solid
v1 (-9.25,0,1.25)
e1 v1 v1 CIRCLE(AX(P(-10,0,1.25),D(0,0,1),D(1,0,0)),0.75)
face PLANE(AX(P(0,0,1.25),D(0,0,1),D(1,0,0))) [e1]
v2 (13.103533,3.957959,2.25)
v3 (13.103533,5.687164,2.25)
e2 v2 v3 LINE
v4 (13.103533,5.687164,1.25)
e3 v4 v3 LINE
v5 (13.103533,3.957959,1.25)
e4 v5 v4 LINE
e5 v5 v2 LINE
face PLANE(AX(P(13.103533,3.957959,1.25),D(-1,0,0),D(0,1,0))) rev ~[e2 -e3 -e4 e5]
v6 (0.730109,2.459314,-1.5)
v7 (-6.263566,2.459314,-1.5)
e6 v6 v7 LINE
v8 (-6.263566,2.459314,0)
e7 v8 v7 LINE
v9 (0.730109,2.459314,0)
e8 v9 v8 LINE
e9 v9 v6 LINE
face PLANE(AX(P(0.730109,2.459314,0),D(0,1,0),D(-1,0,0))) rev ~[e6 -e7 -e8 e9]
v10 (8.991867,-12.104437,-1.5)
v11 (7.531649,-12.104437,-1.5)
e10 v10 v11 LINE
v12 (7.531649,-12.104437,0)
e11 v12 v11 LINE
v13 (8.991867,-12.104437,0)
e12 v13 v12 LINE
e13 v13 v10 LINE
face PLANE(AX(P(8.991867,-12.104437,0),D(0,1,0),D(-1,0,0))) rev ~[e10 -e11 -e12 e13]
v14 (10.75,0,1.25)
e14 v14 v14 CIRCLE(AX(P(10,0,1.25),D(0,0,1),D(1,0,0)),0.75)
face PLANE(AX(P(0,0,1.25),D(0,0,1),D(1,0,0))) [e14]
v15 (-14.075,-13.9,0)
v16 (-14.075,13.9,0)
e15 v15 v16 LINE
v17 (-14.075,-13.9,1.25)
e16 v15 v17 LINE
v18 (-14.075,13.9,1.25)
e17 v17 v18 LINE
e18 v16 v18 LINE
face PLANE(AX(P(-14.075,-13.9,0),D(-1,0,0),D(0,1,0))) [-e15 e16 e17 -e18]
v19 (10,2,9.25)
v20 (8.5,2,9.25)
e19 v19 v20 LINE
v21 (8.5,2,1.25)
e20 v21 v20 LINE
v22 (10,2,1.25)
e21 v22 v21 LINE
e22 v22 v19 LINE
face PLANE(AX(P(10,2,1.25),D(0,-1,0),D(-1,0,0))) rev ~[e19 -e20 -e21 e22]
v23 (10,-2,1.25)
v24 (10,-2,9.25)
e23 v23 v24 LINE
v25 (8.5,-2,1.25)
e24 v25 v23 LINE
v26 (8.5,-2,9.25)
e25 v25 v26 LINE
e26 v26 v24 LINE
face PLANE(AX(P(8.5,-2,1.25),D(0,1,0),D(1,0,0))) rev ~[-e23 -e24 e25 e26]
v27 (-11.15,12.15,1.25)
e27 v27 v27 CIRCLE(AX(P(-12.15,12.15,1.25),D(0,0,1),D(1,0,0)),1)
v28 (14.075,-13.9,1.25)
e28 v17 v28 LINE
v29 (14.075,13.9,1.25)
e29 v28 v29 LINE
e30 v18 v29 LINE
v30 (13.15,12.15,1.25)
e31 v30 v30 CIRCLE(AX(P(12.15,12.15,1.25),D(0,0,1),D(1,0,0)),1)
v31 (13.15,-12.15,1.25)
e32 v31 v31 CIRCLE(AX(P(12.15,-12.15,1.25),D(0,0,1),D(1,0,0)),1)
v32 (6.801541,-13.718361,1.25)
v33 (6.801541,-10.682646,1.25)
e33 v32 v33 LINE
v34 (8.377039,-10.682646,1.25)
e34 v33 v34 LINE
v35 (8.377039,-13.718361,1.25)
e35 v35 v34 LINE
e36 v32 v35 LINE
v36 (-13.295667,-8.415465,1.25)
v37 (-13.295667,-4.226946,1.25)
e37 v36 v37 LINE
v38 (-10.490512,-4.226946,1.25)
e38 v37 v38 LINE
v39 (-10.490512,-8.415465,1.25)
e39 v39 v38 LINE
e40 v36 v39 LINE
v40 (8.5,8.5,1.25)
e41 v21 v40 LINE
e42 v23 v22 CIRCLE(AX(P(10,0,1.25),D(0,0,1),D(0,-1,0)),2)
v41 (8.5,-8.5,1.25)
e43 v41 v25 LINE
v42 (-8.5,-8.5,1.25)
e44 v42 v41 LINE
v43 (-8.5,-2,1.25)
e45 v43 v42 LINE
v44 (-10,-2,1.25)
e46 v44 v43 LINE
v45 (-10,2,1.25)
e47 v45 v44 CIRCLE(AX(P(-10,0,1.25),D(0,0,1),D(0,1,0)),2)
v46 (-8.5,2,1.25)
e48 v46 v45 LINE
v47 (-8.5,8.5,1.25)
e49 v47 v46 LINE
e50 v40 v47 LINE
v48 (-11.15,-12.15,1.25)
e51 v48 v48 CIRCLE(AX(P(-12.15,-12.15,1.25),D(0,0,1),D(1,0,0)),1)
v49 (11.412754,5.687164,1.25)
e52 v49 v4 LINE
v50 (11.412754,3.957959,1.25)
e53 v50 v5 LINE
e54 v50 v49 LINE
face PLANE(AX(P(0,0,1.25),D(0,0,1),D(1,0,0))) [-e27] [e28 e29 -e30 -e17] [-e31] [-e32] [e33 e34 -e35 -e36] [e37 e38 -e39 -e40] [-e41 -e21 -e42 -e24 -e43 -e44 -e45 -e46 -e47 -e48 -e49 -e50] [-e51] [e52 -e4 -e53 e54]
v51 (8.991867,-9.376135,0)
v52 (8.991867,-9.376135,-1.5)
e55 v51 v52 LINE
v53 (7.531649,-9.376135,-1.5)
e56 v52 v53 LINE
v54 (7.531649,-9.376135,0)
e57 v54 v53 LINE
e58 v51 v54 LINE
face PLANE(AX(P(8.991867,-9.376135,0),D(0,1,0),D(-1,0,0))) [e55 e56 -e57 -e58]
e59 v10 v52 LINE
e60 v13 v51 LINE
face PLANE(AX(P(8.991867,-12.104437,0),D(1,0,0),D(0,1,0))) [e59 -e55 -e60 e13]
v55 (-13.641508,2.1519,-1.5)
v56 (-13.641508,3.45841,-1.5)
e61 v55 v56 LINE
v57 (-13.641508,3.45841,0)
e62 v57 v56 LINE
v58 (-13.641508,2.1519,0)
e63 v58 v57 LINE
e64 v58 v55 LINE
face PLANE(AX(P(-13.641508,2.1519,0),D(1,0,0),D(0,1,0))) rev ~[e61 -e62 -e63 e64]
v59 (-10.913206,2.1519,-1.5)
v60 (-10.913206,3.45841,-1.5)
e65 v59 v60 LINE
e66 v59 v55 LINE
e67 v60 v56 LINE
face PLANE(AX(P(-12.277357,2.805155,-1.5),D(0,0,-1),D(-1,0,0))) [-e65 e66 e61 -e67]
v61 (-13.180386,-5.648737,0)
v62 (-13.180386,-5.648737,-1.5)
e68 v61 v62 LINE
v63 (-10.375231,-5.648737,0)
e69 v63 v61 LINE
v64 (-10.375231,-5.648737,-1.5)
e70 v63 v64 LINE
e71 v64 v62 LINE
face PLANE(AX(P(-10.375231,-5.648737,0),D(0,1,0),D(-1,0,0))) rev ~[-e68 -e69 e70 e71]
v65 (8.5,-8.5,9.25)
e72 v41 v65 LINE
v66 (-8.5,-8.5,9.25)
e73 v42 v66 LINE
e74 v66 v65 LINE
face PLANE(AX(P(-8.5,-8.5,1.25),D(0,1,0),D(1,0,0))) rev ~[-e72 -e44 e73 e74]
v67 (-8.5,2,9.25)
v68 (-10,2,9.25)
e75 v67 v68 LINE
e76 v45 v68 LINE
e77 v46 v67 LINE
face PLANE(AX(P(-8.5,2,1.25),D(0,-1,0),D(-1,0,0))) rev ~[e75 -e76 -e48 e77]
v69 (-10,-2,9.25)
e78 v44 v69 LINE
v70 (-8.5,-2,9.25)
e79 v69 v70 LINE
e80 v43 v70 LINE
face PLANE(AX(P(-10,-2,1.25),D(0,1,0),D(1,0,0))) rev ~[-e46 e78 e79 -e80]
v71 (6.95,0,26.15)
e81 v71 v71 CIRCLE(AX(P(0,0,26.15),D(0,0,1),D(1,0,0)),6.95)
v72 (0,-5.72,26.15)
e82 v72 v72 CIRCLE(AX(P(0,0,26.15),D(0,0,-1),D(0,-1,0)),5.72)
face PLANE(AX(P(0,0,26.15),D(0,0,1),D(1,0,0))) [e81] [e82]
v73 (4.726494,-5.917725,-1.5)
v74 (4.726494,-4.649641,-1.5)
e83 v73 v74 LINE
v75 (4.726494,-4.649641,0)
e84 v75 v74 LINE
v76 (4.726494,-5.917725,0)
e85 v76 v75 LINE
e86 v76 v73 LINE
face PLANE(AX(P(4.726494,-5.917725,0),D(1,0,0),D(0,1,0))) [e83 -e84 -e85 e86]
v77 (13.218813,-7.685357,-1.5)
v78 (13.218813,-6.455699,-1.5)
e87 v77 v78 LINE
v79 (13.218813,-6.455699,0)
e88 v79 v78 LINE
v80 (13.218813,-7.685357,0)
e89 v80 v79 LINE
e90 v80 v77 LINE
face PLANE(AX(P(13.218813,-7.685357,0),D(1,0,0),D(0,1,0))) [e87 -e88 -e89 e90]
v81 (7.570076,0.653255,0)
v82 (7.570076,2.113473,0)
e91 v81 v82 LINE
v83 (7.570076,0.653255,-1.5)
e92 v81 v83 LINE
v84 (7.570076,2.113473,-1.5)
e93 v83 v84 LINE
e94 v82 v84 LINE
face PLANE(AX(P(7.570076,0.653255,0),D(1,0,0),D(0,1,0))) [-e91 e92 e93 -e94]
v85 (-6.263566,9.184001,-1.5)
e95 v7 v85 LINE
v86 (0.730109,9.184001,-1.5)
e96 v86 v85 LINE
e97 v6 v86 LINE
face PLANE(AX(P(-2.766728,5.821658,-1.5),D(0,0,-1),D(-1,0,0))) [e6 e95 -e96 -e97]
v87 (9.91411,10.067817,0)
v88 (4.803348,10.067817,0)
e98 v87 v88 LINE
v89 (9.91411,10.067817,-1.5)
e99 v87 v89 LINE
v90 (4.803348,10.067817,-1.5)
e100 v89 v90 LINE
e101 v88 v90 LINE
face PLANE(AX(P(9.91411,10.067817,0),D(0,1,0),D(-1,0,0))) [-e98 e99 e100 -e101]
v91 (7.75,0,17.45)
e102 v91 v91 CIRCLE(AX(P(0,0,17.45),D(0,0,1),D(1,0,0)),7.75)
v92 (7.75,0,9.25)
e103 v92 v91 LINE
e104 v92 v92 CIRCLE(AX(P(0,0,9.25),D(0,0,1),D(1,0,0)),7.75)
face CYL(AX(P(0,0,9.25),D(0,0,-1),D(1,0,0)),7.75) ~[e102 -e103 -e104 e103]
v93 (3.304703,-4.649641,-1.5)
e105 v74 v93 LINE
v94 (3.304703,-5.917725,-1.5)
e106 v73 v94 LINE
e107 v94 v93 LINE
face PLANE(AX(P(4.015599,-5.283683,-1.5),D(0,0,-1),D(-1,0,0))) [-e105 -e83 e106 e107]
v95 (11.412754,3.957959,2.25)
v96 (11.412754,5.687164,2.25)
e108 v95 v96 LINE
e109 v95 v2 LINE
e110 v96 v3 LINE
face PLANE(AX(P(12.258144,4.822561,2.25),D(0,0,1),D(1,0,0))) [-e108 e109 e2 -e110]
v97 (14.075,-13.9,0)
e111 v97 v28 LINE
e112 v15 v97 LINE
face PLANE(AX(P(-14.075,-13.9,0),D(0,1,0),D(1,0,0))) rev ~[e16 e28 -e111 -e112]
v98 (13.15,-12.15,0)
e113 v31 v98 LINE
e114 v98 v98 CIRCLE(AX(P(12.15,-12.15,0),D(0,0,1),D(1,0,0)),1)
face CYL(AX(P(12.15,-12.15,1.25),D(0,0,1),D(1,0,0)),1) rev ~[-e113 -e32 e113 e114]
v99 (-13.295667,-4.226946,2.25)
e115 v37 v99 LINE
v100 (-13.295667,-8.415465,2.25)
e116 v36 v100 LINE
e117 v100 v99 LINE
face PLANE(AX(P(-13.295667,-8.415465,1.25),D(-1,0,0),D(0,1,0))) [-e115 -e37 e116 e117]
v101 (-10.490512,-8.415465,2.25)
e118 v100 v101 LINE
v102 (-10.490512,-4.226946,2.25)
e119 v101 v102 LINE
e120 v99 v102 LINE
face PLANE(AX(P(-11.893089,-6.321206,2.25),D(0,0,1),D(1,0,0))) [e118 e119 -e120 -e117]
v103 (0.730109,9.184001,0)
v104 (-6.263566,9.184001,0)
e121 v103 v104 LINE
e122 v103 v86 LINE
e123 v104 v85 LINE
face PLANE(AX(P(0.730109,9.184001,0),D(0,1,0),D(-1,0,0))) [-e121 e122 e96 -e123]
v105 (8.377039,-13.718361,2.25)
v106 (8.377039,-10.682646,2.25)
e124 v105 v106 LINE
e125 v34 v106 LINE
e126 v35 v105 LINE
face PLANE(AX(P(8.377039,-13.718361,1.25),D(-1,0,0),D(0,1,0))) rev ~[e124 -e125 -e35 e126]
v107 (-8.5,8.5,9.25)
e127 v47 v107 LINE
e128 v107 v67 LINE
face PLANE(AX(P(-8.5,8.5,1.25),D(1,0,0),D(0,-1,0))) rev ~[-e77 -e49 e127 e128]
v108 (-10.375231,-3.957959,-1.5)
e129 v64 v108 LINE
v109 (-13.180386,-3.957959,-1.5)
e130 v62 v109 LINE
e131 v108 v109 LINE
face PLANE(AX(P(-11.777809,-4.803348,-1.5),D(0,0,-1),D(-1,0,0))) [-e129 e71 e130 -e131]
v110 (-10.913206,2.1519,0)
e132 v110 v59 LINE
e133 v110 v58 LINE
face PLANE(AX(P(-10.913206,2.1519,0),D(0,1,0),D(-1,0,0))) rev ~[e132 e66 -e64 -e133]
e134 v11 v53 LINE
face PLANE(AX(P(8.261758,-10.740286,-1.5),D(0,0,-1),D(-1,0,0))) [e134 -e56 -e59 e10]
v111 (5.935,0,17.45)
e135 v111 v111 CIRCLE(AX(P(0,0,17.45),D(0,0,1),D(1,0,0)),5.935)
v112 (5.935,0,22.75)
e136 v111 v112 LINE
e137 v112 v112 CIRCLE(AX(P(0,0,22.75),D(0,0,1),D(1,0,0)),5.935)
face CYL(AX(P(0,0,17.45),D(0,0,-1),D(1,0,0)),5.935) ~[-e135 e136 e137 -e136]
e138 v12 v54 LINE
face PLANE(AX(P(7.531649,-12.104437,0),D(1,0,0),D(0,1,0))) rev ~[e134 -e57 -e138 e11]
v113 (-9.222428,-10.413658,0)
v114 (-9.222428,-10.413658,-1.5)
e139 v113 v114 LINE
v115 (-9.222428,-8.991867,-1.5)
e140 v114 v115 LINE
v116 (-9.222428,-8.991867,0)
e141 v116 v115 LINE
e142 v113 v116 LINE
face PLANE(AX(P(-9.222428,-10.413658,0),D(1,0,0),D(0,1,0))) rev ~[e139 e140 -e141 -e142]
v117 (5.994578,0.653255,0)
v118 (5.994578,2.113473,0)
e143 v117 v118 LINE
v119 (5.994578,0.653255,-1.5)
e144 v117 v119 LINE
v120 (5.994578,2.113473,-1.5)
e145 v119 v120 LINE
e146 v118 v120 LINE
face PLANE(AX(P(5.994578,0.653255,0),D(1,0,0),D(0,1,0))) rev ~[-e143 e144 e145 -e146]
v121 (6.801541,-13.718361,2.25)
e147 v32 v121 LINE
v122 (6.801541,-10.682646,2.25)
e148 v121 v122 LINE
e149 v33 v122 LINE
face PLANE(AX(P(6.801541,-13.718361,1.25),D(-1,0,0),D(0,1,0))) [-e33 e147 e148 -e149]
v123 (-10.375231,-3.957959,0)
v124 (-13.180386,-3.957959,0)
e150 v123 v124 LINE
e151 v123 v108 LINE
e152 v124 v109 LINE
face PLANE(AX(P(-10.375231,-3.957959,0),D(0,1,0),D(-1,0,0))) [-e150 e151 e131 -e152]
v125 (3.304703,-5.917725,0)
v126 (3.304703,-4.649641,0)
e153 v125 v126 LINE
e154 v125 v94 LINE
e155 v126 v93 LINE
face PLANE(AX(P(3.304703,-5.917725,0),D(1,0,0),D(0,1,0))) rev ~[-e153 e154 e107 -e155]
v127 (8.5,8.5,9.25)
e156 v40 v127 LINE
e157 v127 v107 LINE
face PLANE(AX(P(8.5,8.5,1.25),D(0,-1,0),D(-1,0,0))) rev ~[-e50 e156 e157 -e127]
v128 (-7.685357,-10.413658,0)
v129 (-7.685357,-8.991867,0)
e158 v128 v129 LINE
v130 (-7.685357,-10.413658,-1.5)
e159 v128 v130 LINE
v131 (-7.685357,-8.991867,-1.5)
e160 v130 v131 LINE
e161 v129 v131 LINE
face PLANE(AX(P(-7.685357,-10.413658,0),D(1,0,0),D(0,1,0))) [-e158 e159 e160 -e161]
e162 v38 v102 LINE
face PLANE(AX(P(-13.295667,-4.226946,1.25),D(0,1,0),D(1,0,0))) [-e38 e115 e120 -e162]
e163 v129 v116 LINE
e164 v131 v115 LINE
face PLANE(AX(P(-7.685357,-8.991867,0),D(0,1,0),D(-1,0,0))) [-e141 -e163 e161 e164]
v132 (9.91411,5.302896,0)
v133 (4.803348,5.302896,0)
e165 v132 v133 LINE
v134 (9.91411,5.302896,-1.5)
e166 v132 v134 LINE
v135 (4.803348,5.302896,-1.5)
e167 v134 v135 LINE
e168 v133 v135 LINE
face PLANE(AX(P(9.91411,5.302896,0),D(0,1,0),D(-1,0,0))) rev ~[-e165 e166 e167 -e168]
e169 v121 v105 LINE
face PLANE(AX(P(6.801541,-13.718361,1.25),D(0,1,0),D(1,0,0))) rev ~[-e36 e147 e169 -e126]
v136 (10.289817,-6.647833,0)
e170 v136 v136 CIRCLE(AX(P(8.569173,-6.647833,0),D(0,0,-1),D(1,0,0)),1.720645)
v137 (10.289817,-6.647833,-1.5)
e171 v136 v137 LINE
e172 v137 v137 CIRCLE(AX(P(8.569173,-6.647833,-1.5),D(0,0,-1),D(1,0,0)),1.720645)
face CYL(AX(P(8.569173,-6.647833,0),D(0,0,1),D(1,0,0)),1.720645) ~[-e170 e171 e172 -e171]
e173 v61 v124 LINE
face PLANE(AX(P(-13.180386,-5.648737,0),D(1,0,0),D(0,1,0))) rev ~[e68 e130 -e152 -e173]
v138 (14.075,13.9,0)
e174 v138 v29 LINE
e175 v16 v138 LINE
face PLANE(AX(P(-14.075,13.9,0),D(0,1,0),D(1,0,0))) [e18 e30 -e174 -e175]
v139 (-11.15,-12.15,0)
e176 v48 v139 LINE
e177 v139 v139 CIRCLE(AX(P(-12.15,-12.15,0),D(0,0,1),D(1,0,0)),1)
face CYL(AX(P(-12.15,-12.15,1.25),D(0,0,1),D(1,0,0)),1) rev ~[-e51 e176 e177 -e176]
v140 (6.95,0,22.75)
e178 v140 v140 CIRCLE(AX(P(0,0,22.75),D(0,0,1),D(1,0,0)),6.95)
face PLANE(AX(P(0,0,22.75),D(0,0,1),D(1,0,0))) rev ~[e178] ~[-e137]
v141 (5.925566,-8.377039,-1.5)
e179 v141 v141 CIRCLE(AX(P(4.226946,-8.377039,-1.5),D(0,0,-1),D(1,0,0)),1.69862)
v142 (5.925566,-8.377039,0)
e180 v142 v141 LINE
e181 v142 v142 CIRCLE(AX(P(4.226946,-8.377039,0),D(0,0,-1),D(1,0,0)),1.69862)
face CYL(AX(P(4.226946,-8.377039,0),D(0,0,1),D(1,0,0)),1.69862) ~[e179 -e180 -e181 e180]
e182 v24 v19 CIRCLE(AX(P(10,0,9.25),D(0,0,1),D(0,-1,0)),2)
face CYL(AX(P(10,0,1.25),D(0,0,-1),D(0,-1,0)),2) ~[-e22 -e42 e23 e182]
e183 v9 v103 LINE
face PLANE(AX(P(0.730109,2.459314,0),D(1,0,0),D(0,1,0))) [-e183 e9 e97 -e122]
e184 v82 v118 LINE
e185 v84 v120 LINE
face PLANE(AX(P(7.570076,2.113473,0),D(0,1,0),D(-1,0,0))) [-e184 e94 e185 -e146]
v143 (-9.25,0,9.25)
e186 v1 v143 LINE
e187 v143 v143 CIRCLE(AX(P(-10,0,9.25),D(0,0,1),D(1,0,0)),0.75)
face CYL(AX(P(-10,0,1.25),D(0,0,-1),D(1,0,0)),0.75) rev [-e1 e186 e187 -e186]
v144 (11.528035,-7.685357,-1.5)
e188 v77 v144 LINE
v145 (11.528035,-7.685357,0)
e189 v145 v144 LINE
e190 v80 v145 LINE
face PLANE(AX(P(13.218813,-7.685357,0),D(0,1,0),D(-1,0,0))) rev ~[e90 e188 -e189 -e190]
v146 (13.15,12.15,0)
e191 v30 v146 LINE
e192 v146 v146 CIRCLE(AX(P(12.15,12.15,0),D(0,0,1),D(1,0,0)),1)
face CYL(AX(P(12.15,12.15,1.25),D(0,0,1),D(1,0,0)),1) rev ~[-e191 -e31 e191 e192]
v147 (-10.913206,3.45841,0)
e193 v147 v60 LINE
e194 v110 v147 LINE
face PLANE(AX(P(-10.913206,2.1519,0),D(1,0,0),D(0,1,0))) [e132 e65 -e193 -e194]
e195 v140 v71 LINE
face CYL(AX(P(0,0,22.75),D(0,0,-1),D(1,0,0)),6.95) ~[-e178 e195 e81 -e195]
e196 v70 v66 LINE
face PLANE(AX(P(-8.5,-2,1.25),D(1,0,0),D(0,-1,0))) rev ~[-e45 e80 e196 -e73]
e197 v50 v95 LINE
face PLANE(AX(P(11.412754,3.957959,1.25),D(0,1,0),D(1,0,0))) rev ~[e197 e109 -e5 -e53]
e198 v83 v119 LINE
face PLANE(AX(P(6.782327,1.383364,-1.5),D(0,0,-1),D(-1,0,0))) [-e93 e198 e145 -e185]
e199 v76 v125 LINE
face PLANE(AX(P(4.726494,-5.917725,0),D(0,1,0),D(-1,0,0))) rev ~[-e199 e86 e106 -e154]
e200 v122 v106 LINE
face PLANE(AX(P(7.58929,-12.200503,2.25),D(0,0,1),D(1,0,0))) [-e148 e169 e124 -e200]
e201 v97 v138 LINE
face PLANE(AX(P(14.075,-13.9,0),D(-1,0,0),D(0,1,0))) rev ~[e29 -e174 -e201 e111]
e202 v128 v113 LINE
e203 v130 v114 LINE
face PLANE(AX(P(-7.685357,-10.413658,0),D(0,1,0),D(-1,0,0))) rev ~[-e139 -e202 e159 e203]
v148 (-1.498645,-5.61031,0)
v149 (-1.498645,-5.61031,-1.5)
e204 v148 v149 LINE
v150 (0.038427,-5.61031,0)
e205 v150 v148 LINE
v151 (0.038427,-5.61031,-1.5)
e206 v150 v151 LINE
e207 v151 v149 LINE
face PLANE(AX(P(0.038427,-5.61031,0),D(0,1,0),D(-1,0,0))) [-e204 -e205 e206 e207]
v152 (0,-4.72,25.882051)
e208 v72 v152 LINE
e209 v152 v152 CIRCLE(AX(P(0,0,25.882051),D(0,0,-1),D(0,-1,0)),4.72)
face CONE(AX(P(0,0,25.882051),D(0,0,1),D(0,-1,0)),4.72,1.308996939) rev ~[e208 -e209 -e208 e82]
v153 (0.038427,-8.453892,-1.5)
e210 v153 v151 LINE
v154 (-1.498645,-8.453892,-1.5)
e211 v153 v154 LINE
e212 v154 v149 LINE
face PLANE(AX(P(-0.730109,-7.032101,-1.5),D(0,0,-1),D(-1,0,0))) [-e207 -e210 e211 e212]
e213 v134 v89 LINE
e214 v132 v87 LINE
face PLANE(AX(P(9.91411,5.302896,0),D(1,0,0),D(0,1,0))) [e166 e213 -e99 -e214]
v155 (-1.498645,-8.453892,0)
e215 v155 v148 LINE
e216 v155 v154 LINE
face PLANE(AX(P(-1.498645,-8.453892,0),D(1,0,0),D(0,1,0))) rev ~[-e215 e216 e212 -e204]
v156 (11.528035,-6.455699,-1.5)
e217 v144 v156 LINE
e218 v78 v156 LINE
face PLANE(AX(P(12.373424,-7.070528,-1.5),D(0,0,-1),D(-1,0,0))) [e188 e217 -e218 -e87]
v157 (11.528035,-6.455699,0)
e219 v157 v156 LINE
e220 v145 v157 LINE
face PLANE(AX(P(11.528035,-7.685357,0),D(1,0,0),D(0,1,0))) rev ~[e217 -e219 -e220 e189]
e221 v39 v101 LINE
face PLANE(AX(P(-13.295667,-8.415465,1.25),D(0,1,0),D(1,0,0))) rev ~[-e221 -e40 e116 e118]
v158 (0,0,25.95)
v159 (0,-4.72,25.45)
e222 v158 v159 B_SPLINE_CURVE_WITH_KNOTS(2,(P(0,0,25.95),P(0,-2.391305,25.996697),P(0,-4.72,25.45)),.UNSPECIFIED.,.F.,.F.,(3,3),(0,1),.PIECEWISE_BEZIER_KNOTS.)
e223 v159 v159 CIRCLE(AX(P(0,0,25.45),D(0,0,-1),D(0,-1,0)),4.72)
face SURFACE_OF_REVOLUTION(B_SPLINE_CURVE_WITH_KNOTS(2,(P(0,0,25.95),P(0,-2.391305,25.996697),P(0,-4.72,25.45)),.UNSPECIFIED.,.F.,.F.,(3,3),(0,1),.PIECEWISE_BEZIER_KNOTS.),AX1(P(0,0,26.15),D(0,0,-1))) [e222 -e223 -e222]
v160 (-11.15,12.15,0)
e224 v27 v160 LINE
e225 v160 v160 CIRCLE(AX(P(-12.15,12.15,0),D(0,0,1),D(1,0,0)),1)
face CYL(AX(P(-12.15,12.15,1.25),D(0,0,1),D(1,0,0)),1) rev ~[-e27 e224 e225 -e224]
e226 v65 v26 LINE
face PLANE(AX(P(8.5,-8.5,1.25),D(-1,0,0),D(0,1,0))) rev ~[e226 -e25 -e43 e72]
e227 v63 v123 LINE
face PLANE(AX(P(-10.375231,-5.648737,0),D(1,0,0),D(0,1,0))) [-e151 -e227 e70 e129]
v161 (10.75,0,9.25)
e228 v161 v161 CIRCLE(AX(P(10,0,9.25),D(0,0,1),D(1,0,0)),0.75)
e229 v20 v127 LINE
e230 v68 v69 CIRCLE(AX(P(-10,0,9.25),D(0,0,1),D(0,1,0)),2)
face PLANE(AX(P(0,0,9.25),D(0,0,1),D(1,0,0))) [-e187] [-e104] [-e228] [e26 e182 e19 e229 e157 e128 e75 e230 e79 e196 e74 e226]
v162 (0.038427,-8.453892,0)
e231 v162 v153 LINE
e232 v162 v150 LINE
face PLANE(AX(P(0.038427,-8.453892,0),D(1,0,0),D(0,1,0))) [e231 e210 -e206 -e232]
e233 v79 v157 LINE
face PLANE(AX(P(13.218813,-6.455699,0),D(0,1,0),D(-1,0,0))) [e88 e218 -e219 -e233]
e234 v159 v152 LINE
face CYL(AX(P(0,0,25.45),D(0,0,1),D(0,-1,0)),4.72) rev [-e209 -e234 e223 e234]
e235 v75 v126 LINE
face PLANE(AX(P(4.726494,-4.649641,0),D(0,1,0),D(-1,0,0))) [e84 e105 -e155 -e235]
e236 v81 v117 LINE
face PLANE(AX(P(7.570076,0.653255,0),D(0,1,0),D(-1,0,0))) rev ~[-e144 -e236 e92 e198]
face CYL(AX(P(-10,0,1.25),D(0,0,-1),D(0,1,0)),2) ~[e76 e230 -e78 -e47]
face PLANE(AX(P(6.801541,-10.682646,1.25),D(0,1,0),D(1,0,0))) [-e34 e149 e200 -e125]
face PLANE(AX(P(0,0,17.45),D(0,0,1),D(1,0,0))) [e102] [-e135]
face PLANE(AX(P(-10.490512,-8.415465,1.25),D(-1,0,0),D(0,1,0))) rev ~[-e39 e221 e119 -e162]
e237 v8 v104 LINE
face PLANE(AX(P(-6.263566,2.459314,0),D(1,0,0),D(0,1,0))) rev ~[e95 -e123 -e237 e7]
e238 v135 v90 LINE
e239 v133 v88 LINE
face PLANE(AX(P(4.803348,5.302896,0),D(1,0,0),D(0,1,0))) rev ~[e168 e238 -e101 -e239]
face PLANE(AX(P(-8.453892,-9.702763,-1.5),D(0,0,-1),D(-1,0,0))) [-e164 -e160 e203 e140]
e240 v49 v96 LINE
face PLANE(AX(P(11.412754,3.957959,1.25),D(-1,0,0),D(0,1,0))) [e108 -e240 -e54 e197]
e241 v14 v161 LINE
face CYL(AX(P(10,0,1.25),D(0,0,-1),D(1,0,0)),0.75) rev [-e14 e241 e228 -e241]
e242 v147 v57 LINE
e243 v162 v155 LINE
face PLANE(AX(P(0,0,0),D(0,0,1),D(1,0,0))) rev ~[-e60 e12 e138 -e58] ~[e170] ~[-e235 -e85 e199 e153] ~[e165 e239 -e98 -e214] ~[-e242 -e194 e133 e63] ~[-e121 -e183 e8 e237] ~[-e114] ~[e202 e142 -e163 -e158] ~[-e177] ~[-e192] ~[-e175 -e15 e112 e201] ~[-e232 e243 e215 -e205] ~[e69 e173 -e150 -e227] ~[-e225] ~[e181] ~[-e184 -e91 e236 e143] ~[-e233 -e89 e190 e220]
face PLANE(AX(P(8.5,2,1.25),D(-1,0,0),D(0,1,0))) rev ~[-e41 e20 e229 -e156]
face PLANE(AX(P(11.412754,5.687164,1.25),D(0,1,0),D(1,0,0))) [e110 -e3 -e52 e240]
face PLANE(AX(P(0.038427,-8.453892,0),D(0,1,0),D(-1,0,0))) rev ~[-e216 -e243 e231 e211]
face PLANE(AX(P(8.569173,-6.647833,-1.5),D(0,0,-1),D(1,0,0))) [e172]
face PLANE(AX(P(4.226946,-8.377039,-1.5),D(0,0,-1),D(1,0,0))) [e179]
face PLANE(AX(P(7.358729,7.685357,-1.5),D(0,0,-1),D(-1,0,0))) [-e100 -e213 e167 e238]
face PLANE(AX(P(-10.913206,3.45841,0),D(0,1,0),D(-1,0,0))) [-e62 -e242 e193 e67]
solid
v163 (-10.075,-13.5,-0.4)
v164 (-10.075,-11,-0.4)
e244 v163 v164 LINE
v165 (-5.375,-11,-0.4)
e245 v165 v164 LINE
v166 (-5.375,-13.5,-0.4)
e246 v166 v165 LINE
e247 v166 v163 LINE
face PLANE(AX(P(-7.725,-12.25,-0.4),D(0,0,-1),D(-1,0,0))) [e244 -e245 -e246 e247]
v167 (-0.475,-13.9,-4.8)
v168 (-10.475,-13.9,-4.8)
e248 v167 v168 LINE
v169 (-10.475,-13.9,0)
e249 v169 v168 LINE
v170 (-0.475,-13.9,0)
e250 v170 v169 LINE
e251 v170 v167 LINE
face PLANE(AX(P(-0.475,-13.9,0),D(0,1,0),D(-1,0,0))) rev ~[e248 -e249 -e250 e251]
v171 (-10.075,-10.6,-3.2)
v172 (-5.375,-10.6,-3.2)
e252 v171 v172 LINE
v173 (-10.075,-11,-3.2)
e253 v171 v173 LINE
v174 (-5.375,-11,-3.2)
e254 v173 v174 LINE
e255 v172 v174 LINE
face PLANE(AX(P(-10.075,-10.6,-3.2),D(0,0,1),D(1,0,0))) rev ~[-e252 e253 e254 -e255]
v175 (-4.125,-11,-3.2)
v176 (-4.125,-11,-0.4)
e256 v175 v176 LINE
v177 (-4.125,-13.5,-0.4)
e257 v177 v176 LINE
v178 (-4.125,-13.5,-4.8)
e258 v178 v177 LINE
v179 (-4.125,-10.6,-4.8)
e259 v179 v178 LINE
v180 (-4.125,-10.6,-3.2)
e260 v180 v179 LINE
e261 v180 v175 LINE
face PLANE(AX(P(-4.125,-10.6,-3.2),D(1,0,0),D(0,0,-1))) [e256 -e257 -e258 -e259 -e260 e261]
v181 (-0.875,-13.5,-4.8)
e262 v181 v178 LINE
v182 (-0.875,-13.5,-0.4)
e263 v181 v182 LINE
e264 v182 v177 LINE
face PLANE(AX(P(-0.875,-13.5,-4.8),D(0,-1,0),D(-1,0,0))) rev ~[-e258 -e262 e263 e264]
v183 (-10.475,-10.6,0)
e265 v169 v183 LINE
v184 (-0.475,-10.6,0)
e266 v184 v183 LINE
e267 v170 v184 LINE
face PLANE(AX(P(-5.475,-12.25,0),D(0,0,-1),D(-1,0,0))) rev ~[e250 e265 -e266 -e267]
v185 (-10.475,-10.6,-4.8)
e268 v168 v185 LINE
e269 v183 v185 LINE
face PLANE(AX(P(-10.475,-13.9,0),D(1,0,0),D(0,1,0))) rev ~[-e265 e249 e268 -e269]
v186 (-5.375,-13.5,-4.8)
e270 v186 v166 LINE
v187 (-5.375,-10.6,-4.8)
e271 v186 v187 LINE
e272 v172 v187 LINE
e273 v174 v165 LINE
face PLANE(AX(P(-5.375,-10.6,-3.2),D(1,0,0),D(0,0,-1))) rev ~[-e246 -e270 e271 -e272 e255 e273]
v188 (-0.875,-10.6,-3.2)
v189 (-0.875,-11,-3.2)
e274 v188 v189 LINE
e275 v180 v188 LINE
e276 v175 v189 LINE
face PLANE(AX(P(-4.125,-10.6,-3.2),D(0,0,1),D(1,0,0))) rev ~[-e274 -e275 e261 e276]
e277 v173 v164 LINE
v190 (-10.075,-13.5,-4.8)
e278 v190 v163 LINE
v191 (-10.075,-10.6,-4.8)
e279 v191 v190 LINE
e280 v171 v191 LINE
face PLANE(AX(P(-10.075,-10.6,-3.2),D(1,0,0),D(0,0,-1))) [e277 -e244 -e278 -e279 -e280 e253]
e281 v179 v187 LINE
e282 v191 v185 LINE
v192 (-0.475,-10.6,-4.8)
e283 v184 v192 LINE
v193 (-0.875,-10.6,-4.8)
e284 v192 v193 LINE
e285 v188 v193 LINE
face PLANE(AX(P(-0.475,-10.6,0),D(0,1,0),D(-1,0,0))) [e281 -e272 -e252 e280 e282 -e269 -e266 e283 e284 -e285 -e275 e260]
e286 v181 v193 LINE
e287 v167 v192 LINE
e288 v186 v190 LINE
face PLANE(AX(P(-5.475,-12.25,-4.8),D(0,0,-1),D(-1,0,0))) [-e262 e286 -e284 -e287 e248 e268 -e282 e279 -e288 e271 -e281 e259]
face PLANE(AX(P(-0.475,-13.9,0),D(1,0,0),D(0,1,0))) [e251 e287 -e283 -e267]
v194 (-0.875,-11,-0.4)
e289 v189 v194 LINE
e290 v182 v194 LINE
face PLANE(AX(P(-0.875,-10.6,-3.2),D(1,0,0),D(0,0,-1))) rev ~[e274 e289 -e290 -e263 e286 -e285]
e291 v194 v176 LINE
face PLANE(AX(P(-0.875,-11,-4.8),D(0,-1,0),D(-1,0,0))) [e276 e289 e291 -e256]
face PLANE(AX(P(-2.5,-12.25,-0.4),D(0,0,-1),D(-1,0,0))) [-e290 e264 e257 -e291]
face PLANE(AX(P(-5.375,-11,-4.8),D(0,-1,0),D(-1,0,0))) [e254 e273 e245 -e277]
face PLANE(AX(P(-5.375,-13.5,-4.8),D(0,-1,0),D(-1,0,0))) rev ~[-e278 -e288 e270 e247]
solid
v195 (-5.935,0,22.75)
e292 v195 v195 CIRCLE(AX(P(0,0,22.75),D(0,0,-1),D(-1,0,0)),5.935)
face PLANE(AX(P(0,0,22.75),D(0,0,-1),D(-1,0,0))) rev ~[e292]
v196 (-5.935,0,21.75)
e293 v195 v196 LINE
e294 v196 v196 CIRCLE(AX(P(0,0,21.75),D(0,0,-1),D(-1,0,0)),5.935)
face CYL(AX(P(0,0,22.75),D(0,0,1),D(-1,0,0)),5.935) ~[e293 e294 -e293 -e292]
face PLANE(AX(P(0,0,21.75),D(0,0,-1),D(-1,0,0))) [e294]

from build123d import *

# Parameters (mm, degrees)
SKETCH1_W              = 28.15
SKETCH1_H              = 27.8
BASE_SHAPE_DEPTH       = 1.25
MOUNTING_HOLES_REACH   = 21.821
SKETCH2_R              = 1
SKETCH3_R              = 0.75
CAM_BASE_DEPTH         = 8
SKETCH4_R              = 7.75
CAM_STEP_1_DEPTH       = 8.2
SKETCH5_R              = 5.935
CAM_STEP_2_DEPTH       = 5.3
SKETCH6_R              = 6.95
CAM_STEP_3_DEPTH       = 3.4
LENS_CHAMFER_SIZE      = 1
LENS_CHAMFER_SIZE2     = 0.267949192
SKETCH8_R              = 5.935
LENS_BACKGROUND_DEPTH  = 1
SKETCH9_W              = 2.805155133
SKETCH9_H              = 4.188519308
SKETCH9_W_2            = 1.575498088
SKETCH9_H_2            = 3.035715829
SKETCH9_W_3            = 1.690778436
SKETCH9_H_3            = 1.729205218
FRONT_COMPONENTS_DEPTH = 1
SKETCH10_R             = 1.720644744
SKETCH10_R_2           = 1.698620275
SKETCH10_W             = 5.110762091
SKETCH10_H             = 4.764921047
SKETCH10_W_2           = 1.575498088
SKETCH10_H_2           = 1.46021774
SKETCH10_W_3           = 1.690778437
SKETCH10_H_3           = 1.229657045
SKETCH10_W_4           = 1.46021774
SKETCH10_H_4           = 2.728301567
SKETCH10_W_5           = 1.421790957
SKETCH10_H_5           = 1.268083827
SKETCH10_W_6           = 1.537071306
SKETCH10_H_6           = 2.843581915
SKETCH10_W_7           = 2.805155133
SKETCH10_H_7           = 1.690778436
SKETCH10_W_8           = 2.728301568
SKETCH10_H_8           = 1.306510609
SKETCH10_W_9           = 1.537071305
SKETCH10_H_9           = 1.421790958
SKETCH10_W_10          = 6.99367444
SKETCH10_H_10          = 6.724686962
REAR_COMPONENTS_DEPTH  = 1.5
SKETCH11_W             = 10
SKETCH11_H             = 3.3
BOSS_EXTRUDE9_DEPTH    = 4.8
SKETCH12_W             = 3.25
SKETCH12_H             = 2.5
SKETCH12_W_2           = 4.7
CUT_EXTRUDE2_DEPTH     = 4.4
SKETCH13_W             = 3.25
SKETCH13_H             = 1.6
SKETCH13_W_2           = 4.7
CUT_EXTRUDE3_DEPTH     = 0.4


with BuildPart() as part:
    # Sketch1 → Base shape (new body)
    with BuildSketch(Plane.XY):
        Rectangle(SKETCH1_W, SKETCH1_H)
    extrude(amount=BASE_SHAPE_DEPTH)

    # Sketch2 → Mounting holes (cut, up to next)
    with BuildSketch(Plane.XY.offset(1.25), mode=Mode.PRIVATE) as mounting_holes_sk1:
        with Locations((12.15, 12.15)):
            Circle(SKETCH2_R)
    mounting_holes_tool1 = extrude(mounting_holes_sk1.sketch, amount=-MOUNTING_HOLES_REACH, mode=Mode.PRIVATE) & part.part
    # Sketch2 → Mounting holes (cut, up to next)
    with BuildSketch(Plane.XY.offset(1.25), mode=Mode.PRIVATE) as mounting_holes_sk2:
        with Locations((-12.15, 12.15)):
            Circle(SKETCH2_R)
    mounting_holes_tool2 = extrude(mounting_holes_sk2.sketch, amount=-MOUNTING_HOLES_REACH, mode=Mode.PRIVATE) & part.part
    # Sketch2 → Mounting holes (cut, up to next)
    with BuildSketch(Plane.XY.offset(1.25), mode=Mode.PRIVATE) as mounting_holes_sk3:
        with Locations((12.15, -12.15)):
            Circle(SKETCH2_R)
    mounting_holes_tool3 = extrude(mounting_holes_sk3.sketch, amount=-MOUNTING_HOLES_REACH, mode=Mode.PRIVATE) & part.part
    # Sketch2 → Mounting holes (cut, up to next)
    with BuildSketch(Plane.XY.offset(1.25), mode=Mode.PRIVATE) as mounting_holes_sk4:
        with Locations((-12.15, -12.15)):
            Circle(SKETCH2_R)
    mounting_holes_tool4 = extrude(mounting_holes_sk4.sketch, amount=-MOUNTING_HOLES_REACH, mode=Mode.PRIVATE) & part.part
    add(mounting_holes_tool1.solids().sort_by_distance((12.15, 12.15, 1.25))[0], mode=Mode.SUBTRACT)
    add(mounting_holes_tool2.solids().sort_by_distance((-12.15, 12.15, 1.25))[0], mode=Mode.SUBTRACT)
    add(mounting_holes_tool3.solids().sort_by_distance((12.15, -12.15, 1.25))[0], mode=Mode.SUBTRACT)
    add(mounting_holes_tool4.solids().sort_by_distance((-12.15, -12.15, 1.25))[0], mode=Mode.SUBTRACT)

    # Sketch3 → Cam base (add)
    with BuildSketch(Plane.XY.offset(1.25)):
        with BuildLine():
            Line((8.5, -8.5), (8.5, -2))
            Line((8.5, -2), (10, -2))
            ThreePointArc((10, -2), (12, 0), (10, 2))
            Line((10, 2), (8.5, 2))
            Line((8.5, 2), (8.5, 8.5))
            Line((8.5, 8.5), (-8.5, 8.5))
            Line((-8.5, 8.5), (-8.5, 2))
            Line((-8.5, 2), (-10, 2))
            ThreePointArc((-10, 2), (-12, 0), (-10, -2))
            Line((-10, -2), (-8.5, -2))
            Line((-8.5, -2), (-8.5, -8.5))
            Line((-8.5, -8.5), (8.5, -8.5))
        make_face()
        with Locations((-10, 0)):
            Circle(SKETCH3_R, mode=Mode.SUBTRACT)
        with Locations((10, 0)):
            Circle(SKETCH3_R, mode=Mode.SUBTRACT)
    extrude(amount=CAM_BASE_DEPTH)

    # Sketch4 → Cam step 1 (add)
    with BuildSketch(Plane.XY.offset(9.25)):
        Circle(SKETCH4_R)
    extrude(amount=CAM_STEP_1_DEPTH)

    # Sketch5 → Cam step 2 (add)
    with BuildSketch(Plane.XY.offset(17.45)):
        Circle(SKETCH5_R)
    extrude(amount=CAM_STEP_2_DEPTH)

    # Sketch6 → Cam step 3 (add)
    with BuildSketch(Plane.XY.offset(22.75)):
        Circle(SKETCH6_R)
    extrude(amount=CAM_STEP_3_DEPTH)

    # Sketch7 → Lens profile (revolve, cut)
    with BuildSketch(Plane(origin=(0, 0, 0), x_dir=(0, 0, -1), z_dir=(1, 0, 0)), mode=Mode.PRIVATE) as lens_profile_sk:
        with BuildLine():
            Line((-25.45, 4.72), (-26.15, 4.72))
            Line((-26.15, 4.72), (-26.15, 0))
            Line((-26.15, 0), (-25.95, 0))
            add(Edge.make_bspline(
                [(-25.95, 0), (-25.99669702, 2.391304703), (-25.45, 4.72)],
                knots=[0, 0, 0, 1, 1, 1], degree=2))
        make_face()
    revolve(lens_profile_sk.sketch.rotate(Axis((0, 0, 26.15), (0, 0, -1)), 180), axis=Axis((0, 0, 26.15), (0, 0, -1)), mode=Mode.SUBTRACT)

    # Lens chamfer
    lens_chamfer_edges = [part.edges().sort_by_distance(p)[0] for p in [
        (0, 4.72, 26.15),
    ]]
    lens_chamfer_side = [part.faces().sort_by_distance(p)[0] for p in [
        (-6.753424315, 0, 26.15),
    ]]
    chamfer(lens_chamfer_edges, length=LENS_CHAMFER_SIZE, length2=LENS_CHAMFER_SIZE2, reference=lens_chamfer_side[0])

    # Sketch9 → Front components (add)
    with BuildSketch(Plane.XY.offset(1.25)):
        with Locations((-11.893089227, -6.321205744)):
            Rectangle(SKETCH9_W, SKETCH9_H)
        with Locations((7.589289571, -12.200503488)):
            Rectangle(SKETCH9_W_2, SKETCH9_H_2)
        with Locations((12.258143662, 4.822561221)):
            Rectangle(SKETCH9_W_3, SKETCH9_H_3)
    extrude(amount=FRONT_COMPONENTS_DEPTH)

    # Sketch10 → Rear components (add)
    with BuildSketch(Plane(origin=(0, 0, 0), x_dir=(-1, 0, 0), z_dir=(0, 0, -1))):
        with Locations(Location((-8.569172528, -6.647833396, 0), (0, 0, 180))):
            Circle(SKETCH10_R)
        with Locations(Location((-4.22694609, -8.377038615, 0), (0, 0, 180))):
            Circle(SKETCH10_R_2)
        with Locations((-7.358728876, 7.685356527)):
            Rectangle(SKETCH10_W, SKETCH10_H)
        with Locations((-6.782327136, 1.383364175)):
            Rectangle(SKETCH10_W_2, SKETCH10_H_2)
        with Locations((-12.37342401, -7.070528005)):
            Rectangle(SKETCH10_W_3, SKETCH10_H_3)
        with Locations((-8.261758267, -10.740285747)):
            Rectangle(SKETCH10_W_4, SKETCH10_H_4)
        with Locations((-4.015598785, -5.283682612)):
            Rectangle(SKETCH10_W_5, SKETCH10_H_5)
        with Locations((0.73010887, -7.032101223)):
            Rectangle(SKETCH10_W_6, SKETCH10_H_6)
        with Locations((11.777808879, -4.80334783)):
            Rectangle(SKETCH10_W_7, SKETCH10_H_7)
        with Locations((12.277357053, 2.805155133)):
            Rectangle(SKETCH10_W_8, SKETCH10_H_8)
        with Locations((8.453892181, -9.702762616)):
            Rectangle(SKETCH10_W_9, SKETCH10_H_9)
        with Locations((2.76672835, 5.82165757)):
            Rectangle(SKETCH10_W_10, SKETCH10_H_10)
    extrude(amount=REAR_COMPONENTS_DEPTH)


with BuildPart() as body_2:
    # Sketch8 → Lens background (new body)
    with BuildSketch(Plane(origin=(0, 0, 22.75), x_dir=(-1, 0, 0), z_dir=(0, 0, -1))):
        Circle(SKETCH8_R)
    extrude(amount=LENS_BACKGROUND_DEPTH)


with BuildPart() as body_3:
    # Sketch11 → Boss-Extrude9 (new body)
    with BuildSketch(Plane(origin=(0, 0, 0), x_dir=(-1, 0, 0), z_dir=(0, 0, -1))):
        with Locations((5.475, -12.25)):
            Rectangle(SKETCH11_W, SKETCH11_H)
    extrude(amount=BOSS_EXTRUDE9_DEPTH)

    # Sketch12 → Cut-Extrude2 (cut)
    with BuildSketch(Plane(origin=(0, 0, -4.8), x_dir=(-1, 0, 0), z_dir=(0, 0, -1))):
        with Locations((2.5, -12.25)):
            Rectangle(SKETCH12_W, SKETCH12_H)
        with Locations((7.725, -12.25)):
            Rectangle(SKETCH12_W_2, SKETCH12_H)
    extrude(amount=-CUT_EXTRUDE2_DEPTH, mode=Mode.SUBTRACT)

    # Sketch13 → Cut-Extrude3 (cut)
    with BuildSketch(Plane(origin=(0, -10.6, 0), x_dir=(1, 0, 0), z_dir=(0, 1, 0))):
        with Locations((-2.5, 4)):
            Rectangle(SKETCH13_W, SKETCH13_H)
        with Locations((-7.725, 4)):
            Rectangle(SKETCH13_W_2, SKETCH13_H)
    extrude(amount=-CUT_EXTRUDE3_DEPTH, mode=Mode.SUBTRACT)


solid = Compound([part.part, body_2.part, body_3.part])
